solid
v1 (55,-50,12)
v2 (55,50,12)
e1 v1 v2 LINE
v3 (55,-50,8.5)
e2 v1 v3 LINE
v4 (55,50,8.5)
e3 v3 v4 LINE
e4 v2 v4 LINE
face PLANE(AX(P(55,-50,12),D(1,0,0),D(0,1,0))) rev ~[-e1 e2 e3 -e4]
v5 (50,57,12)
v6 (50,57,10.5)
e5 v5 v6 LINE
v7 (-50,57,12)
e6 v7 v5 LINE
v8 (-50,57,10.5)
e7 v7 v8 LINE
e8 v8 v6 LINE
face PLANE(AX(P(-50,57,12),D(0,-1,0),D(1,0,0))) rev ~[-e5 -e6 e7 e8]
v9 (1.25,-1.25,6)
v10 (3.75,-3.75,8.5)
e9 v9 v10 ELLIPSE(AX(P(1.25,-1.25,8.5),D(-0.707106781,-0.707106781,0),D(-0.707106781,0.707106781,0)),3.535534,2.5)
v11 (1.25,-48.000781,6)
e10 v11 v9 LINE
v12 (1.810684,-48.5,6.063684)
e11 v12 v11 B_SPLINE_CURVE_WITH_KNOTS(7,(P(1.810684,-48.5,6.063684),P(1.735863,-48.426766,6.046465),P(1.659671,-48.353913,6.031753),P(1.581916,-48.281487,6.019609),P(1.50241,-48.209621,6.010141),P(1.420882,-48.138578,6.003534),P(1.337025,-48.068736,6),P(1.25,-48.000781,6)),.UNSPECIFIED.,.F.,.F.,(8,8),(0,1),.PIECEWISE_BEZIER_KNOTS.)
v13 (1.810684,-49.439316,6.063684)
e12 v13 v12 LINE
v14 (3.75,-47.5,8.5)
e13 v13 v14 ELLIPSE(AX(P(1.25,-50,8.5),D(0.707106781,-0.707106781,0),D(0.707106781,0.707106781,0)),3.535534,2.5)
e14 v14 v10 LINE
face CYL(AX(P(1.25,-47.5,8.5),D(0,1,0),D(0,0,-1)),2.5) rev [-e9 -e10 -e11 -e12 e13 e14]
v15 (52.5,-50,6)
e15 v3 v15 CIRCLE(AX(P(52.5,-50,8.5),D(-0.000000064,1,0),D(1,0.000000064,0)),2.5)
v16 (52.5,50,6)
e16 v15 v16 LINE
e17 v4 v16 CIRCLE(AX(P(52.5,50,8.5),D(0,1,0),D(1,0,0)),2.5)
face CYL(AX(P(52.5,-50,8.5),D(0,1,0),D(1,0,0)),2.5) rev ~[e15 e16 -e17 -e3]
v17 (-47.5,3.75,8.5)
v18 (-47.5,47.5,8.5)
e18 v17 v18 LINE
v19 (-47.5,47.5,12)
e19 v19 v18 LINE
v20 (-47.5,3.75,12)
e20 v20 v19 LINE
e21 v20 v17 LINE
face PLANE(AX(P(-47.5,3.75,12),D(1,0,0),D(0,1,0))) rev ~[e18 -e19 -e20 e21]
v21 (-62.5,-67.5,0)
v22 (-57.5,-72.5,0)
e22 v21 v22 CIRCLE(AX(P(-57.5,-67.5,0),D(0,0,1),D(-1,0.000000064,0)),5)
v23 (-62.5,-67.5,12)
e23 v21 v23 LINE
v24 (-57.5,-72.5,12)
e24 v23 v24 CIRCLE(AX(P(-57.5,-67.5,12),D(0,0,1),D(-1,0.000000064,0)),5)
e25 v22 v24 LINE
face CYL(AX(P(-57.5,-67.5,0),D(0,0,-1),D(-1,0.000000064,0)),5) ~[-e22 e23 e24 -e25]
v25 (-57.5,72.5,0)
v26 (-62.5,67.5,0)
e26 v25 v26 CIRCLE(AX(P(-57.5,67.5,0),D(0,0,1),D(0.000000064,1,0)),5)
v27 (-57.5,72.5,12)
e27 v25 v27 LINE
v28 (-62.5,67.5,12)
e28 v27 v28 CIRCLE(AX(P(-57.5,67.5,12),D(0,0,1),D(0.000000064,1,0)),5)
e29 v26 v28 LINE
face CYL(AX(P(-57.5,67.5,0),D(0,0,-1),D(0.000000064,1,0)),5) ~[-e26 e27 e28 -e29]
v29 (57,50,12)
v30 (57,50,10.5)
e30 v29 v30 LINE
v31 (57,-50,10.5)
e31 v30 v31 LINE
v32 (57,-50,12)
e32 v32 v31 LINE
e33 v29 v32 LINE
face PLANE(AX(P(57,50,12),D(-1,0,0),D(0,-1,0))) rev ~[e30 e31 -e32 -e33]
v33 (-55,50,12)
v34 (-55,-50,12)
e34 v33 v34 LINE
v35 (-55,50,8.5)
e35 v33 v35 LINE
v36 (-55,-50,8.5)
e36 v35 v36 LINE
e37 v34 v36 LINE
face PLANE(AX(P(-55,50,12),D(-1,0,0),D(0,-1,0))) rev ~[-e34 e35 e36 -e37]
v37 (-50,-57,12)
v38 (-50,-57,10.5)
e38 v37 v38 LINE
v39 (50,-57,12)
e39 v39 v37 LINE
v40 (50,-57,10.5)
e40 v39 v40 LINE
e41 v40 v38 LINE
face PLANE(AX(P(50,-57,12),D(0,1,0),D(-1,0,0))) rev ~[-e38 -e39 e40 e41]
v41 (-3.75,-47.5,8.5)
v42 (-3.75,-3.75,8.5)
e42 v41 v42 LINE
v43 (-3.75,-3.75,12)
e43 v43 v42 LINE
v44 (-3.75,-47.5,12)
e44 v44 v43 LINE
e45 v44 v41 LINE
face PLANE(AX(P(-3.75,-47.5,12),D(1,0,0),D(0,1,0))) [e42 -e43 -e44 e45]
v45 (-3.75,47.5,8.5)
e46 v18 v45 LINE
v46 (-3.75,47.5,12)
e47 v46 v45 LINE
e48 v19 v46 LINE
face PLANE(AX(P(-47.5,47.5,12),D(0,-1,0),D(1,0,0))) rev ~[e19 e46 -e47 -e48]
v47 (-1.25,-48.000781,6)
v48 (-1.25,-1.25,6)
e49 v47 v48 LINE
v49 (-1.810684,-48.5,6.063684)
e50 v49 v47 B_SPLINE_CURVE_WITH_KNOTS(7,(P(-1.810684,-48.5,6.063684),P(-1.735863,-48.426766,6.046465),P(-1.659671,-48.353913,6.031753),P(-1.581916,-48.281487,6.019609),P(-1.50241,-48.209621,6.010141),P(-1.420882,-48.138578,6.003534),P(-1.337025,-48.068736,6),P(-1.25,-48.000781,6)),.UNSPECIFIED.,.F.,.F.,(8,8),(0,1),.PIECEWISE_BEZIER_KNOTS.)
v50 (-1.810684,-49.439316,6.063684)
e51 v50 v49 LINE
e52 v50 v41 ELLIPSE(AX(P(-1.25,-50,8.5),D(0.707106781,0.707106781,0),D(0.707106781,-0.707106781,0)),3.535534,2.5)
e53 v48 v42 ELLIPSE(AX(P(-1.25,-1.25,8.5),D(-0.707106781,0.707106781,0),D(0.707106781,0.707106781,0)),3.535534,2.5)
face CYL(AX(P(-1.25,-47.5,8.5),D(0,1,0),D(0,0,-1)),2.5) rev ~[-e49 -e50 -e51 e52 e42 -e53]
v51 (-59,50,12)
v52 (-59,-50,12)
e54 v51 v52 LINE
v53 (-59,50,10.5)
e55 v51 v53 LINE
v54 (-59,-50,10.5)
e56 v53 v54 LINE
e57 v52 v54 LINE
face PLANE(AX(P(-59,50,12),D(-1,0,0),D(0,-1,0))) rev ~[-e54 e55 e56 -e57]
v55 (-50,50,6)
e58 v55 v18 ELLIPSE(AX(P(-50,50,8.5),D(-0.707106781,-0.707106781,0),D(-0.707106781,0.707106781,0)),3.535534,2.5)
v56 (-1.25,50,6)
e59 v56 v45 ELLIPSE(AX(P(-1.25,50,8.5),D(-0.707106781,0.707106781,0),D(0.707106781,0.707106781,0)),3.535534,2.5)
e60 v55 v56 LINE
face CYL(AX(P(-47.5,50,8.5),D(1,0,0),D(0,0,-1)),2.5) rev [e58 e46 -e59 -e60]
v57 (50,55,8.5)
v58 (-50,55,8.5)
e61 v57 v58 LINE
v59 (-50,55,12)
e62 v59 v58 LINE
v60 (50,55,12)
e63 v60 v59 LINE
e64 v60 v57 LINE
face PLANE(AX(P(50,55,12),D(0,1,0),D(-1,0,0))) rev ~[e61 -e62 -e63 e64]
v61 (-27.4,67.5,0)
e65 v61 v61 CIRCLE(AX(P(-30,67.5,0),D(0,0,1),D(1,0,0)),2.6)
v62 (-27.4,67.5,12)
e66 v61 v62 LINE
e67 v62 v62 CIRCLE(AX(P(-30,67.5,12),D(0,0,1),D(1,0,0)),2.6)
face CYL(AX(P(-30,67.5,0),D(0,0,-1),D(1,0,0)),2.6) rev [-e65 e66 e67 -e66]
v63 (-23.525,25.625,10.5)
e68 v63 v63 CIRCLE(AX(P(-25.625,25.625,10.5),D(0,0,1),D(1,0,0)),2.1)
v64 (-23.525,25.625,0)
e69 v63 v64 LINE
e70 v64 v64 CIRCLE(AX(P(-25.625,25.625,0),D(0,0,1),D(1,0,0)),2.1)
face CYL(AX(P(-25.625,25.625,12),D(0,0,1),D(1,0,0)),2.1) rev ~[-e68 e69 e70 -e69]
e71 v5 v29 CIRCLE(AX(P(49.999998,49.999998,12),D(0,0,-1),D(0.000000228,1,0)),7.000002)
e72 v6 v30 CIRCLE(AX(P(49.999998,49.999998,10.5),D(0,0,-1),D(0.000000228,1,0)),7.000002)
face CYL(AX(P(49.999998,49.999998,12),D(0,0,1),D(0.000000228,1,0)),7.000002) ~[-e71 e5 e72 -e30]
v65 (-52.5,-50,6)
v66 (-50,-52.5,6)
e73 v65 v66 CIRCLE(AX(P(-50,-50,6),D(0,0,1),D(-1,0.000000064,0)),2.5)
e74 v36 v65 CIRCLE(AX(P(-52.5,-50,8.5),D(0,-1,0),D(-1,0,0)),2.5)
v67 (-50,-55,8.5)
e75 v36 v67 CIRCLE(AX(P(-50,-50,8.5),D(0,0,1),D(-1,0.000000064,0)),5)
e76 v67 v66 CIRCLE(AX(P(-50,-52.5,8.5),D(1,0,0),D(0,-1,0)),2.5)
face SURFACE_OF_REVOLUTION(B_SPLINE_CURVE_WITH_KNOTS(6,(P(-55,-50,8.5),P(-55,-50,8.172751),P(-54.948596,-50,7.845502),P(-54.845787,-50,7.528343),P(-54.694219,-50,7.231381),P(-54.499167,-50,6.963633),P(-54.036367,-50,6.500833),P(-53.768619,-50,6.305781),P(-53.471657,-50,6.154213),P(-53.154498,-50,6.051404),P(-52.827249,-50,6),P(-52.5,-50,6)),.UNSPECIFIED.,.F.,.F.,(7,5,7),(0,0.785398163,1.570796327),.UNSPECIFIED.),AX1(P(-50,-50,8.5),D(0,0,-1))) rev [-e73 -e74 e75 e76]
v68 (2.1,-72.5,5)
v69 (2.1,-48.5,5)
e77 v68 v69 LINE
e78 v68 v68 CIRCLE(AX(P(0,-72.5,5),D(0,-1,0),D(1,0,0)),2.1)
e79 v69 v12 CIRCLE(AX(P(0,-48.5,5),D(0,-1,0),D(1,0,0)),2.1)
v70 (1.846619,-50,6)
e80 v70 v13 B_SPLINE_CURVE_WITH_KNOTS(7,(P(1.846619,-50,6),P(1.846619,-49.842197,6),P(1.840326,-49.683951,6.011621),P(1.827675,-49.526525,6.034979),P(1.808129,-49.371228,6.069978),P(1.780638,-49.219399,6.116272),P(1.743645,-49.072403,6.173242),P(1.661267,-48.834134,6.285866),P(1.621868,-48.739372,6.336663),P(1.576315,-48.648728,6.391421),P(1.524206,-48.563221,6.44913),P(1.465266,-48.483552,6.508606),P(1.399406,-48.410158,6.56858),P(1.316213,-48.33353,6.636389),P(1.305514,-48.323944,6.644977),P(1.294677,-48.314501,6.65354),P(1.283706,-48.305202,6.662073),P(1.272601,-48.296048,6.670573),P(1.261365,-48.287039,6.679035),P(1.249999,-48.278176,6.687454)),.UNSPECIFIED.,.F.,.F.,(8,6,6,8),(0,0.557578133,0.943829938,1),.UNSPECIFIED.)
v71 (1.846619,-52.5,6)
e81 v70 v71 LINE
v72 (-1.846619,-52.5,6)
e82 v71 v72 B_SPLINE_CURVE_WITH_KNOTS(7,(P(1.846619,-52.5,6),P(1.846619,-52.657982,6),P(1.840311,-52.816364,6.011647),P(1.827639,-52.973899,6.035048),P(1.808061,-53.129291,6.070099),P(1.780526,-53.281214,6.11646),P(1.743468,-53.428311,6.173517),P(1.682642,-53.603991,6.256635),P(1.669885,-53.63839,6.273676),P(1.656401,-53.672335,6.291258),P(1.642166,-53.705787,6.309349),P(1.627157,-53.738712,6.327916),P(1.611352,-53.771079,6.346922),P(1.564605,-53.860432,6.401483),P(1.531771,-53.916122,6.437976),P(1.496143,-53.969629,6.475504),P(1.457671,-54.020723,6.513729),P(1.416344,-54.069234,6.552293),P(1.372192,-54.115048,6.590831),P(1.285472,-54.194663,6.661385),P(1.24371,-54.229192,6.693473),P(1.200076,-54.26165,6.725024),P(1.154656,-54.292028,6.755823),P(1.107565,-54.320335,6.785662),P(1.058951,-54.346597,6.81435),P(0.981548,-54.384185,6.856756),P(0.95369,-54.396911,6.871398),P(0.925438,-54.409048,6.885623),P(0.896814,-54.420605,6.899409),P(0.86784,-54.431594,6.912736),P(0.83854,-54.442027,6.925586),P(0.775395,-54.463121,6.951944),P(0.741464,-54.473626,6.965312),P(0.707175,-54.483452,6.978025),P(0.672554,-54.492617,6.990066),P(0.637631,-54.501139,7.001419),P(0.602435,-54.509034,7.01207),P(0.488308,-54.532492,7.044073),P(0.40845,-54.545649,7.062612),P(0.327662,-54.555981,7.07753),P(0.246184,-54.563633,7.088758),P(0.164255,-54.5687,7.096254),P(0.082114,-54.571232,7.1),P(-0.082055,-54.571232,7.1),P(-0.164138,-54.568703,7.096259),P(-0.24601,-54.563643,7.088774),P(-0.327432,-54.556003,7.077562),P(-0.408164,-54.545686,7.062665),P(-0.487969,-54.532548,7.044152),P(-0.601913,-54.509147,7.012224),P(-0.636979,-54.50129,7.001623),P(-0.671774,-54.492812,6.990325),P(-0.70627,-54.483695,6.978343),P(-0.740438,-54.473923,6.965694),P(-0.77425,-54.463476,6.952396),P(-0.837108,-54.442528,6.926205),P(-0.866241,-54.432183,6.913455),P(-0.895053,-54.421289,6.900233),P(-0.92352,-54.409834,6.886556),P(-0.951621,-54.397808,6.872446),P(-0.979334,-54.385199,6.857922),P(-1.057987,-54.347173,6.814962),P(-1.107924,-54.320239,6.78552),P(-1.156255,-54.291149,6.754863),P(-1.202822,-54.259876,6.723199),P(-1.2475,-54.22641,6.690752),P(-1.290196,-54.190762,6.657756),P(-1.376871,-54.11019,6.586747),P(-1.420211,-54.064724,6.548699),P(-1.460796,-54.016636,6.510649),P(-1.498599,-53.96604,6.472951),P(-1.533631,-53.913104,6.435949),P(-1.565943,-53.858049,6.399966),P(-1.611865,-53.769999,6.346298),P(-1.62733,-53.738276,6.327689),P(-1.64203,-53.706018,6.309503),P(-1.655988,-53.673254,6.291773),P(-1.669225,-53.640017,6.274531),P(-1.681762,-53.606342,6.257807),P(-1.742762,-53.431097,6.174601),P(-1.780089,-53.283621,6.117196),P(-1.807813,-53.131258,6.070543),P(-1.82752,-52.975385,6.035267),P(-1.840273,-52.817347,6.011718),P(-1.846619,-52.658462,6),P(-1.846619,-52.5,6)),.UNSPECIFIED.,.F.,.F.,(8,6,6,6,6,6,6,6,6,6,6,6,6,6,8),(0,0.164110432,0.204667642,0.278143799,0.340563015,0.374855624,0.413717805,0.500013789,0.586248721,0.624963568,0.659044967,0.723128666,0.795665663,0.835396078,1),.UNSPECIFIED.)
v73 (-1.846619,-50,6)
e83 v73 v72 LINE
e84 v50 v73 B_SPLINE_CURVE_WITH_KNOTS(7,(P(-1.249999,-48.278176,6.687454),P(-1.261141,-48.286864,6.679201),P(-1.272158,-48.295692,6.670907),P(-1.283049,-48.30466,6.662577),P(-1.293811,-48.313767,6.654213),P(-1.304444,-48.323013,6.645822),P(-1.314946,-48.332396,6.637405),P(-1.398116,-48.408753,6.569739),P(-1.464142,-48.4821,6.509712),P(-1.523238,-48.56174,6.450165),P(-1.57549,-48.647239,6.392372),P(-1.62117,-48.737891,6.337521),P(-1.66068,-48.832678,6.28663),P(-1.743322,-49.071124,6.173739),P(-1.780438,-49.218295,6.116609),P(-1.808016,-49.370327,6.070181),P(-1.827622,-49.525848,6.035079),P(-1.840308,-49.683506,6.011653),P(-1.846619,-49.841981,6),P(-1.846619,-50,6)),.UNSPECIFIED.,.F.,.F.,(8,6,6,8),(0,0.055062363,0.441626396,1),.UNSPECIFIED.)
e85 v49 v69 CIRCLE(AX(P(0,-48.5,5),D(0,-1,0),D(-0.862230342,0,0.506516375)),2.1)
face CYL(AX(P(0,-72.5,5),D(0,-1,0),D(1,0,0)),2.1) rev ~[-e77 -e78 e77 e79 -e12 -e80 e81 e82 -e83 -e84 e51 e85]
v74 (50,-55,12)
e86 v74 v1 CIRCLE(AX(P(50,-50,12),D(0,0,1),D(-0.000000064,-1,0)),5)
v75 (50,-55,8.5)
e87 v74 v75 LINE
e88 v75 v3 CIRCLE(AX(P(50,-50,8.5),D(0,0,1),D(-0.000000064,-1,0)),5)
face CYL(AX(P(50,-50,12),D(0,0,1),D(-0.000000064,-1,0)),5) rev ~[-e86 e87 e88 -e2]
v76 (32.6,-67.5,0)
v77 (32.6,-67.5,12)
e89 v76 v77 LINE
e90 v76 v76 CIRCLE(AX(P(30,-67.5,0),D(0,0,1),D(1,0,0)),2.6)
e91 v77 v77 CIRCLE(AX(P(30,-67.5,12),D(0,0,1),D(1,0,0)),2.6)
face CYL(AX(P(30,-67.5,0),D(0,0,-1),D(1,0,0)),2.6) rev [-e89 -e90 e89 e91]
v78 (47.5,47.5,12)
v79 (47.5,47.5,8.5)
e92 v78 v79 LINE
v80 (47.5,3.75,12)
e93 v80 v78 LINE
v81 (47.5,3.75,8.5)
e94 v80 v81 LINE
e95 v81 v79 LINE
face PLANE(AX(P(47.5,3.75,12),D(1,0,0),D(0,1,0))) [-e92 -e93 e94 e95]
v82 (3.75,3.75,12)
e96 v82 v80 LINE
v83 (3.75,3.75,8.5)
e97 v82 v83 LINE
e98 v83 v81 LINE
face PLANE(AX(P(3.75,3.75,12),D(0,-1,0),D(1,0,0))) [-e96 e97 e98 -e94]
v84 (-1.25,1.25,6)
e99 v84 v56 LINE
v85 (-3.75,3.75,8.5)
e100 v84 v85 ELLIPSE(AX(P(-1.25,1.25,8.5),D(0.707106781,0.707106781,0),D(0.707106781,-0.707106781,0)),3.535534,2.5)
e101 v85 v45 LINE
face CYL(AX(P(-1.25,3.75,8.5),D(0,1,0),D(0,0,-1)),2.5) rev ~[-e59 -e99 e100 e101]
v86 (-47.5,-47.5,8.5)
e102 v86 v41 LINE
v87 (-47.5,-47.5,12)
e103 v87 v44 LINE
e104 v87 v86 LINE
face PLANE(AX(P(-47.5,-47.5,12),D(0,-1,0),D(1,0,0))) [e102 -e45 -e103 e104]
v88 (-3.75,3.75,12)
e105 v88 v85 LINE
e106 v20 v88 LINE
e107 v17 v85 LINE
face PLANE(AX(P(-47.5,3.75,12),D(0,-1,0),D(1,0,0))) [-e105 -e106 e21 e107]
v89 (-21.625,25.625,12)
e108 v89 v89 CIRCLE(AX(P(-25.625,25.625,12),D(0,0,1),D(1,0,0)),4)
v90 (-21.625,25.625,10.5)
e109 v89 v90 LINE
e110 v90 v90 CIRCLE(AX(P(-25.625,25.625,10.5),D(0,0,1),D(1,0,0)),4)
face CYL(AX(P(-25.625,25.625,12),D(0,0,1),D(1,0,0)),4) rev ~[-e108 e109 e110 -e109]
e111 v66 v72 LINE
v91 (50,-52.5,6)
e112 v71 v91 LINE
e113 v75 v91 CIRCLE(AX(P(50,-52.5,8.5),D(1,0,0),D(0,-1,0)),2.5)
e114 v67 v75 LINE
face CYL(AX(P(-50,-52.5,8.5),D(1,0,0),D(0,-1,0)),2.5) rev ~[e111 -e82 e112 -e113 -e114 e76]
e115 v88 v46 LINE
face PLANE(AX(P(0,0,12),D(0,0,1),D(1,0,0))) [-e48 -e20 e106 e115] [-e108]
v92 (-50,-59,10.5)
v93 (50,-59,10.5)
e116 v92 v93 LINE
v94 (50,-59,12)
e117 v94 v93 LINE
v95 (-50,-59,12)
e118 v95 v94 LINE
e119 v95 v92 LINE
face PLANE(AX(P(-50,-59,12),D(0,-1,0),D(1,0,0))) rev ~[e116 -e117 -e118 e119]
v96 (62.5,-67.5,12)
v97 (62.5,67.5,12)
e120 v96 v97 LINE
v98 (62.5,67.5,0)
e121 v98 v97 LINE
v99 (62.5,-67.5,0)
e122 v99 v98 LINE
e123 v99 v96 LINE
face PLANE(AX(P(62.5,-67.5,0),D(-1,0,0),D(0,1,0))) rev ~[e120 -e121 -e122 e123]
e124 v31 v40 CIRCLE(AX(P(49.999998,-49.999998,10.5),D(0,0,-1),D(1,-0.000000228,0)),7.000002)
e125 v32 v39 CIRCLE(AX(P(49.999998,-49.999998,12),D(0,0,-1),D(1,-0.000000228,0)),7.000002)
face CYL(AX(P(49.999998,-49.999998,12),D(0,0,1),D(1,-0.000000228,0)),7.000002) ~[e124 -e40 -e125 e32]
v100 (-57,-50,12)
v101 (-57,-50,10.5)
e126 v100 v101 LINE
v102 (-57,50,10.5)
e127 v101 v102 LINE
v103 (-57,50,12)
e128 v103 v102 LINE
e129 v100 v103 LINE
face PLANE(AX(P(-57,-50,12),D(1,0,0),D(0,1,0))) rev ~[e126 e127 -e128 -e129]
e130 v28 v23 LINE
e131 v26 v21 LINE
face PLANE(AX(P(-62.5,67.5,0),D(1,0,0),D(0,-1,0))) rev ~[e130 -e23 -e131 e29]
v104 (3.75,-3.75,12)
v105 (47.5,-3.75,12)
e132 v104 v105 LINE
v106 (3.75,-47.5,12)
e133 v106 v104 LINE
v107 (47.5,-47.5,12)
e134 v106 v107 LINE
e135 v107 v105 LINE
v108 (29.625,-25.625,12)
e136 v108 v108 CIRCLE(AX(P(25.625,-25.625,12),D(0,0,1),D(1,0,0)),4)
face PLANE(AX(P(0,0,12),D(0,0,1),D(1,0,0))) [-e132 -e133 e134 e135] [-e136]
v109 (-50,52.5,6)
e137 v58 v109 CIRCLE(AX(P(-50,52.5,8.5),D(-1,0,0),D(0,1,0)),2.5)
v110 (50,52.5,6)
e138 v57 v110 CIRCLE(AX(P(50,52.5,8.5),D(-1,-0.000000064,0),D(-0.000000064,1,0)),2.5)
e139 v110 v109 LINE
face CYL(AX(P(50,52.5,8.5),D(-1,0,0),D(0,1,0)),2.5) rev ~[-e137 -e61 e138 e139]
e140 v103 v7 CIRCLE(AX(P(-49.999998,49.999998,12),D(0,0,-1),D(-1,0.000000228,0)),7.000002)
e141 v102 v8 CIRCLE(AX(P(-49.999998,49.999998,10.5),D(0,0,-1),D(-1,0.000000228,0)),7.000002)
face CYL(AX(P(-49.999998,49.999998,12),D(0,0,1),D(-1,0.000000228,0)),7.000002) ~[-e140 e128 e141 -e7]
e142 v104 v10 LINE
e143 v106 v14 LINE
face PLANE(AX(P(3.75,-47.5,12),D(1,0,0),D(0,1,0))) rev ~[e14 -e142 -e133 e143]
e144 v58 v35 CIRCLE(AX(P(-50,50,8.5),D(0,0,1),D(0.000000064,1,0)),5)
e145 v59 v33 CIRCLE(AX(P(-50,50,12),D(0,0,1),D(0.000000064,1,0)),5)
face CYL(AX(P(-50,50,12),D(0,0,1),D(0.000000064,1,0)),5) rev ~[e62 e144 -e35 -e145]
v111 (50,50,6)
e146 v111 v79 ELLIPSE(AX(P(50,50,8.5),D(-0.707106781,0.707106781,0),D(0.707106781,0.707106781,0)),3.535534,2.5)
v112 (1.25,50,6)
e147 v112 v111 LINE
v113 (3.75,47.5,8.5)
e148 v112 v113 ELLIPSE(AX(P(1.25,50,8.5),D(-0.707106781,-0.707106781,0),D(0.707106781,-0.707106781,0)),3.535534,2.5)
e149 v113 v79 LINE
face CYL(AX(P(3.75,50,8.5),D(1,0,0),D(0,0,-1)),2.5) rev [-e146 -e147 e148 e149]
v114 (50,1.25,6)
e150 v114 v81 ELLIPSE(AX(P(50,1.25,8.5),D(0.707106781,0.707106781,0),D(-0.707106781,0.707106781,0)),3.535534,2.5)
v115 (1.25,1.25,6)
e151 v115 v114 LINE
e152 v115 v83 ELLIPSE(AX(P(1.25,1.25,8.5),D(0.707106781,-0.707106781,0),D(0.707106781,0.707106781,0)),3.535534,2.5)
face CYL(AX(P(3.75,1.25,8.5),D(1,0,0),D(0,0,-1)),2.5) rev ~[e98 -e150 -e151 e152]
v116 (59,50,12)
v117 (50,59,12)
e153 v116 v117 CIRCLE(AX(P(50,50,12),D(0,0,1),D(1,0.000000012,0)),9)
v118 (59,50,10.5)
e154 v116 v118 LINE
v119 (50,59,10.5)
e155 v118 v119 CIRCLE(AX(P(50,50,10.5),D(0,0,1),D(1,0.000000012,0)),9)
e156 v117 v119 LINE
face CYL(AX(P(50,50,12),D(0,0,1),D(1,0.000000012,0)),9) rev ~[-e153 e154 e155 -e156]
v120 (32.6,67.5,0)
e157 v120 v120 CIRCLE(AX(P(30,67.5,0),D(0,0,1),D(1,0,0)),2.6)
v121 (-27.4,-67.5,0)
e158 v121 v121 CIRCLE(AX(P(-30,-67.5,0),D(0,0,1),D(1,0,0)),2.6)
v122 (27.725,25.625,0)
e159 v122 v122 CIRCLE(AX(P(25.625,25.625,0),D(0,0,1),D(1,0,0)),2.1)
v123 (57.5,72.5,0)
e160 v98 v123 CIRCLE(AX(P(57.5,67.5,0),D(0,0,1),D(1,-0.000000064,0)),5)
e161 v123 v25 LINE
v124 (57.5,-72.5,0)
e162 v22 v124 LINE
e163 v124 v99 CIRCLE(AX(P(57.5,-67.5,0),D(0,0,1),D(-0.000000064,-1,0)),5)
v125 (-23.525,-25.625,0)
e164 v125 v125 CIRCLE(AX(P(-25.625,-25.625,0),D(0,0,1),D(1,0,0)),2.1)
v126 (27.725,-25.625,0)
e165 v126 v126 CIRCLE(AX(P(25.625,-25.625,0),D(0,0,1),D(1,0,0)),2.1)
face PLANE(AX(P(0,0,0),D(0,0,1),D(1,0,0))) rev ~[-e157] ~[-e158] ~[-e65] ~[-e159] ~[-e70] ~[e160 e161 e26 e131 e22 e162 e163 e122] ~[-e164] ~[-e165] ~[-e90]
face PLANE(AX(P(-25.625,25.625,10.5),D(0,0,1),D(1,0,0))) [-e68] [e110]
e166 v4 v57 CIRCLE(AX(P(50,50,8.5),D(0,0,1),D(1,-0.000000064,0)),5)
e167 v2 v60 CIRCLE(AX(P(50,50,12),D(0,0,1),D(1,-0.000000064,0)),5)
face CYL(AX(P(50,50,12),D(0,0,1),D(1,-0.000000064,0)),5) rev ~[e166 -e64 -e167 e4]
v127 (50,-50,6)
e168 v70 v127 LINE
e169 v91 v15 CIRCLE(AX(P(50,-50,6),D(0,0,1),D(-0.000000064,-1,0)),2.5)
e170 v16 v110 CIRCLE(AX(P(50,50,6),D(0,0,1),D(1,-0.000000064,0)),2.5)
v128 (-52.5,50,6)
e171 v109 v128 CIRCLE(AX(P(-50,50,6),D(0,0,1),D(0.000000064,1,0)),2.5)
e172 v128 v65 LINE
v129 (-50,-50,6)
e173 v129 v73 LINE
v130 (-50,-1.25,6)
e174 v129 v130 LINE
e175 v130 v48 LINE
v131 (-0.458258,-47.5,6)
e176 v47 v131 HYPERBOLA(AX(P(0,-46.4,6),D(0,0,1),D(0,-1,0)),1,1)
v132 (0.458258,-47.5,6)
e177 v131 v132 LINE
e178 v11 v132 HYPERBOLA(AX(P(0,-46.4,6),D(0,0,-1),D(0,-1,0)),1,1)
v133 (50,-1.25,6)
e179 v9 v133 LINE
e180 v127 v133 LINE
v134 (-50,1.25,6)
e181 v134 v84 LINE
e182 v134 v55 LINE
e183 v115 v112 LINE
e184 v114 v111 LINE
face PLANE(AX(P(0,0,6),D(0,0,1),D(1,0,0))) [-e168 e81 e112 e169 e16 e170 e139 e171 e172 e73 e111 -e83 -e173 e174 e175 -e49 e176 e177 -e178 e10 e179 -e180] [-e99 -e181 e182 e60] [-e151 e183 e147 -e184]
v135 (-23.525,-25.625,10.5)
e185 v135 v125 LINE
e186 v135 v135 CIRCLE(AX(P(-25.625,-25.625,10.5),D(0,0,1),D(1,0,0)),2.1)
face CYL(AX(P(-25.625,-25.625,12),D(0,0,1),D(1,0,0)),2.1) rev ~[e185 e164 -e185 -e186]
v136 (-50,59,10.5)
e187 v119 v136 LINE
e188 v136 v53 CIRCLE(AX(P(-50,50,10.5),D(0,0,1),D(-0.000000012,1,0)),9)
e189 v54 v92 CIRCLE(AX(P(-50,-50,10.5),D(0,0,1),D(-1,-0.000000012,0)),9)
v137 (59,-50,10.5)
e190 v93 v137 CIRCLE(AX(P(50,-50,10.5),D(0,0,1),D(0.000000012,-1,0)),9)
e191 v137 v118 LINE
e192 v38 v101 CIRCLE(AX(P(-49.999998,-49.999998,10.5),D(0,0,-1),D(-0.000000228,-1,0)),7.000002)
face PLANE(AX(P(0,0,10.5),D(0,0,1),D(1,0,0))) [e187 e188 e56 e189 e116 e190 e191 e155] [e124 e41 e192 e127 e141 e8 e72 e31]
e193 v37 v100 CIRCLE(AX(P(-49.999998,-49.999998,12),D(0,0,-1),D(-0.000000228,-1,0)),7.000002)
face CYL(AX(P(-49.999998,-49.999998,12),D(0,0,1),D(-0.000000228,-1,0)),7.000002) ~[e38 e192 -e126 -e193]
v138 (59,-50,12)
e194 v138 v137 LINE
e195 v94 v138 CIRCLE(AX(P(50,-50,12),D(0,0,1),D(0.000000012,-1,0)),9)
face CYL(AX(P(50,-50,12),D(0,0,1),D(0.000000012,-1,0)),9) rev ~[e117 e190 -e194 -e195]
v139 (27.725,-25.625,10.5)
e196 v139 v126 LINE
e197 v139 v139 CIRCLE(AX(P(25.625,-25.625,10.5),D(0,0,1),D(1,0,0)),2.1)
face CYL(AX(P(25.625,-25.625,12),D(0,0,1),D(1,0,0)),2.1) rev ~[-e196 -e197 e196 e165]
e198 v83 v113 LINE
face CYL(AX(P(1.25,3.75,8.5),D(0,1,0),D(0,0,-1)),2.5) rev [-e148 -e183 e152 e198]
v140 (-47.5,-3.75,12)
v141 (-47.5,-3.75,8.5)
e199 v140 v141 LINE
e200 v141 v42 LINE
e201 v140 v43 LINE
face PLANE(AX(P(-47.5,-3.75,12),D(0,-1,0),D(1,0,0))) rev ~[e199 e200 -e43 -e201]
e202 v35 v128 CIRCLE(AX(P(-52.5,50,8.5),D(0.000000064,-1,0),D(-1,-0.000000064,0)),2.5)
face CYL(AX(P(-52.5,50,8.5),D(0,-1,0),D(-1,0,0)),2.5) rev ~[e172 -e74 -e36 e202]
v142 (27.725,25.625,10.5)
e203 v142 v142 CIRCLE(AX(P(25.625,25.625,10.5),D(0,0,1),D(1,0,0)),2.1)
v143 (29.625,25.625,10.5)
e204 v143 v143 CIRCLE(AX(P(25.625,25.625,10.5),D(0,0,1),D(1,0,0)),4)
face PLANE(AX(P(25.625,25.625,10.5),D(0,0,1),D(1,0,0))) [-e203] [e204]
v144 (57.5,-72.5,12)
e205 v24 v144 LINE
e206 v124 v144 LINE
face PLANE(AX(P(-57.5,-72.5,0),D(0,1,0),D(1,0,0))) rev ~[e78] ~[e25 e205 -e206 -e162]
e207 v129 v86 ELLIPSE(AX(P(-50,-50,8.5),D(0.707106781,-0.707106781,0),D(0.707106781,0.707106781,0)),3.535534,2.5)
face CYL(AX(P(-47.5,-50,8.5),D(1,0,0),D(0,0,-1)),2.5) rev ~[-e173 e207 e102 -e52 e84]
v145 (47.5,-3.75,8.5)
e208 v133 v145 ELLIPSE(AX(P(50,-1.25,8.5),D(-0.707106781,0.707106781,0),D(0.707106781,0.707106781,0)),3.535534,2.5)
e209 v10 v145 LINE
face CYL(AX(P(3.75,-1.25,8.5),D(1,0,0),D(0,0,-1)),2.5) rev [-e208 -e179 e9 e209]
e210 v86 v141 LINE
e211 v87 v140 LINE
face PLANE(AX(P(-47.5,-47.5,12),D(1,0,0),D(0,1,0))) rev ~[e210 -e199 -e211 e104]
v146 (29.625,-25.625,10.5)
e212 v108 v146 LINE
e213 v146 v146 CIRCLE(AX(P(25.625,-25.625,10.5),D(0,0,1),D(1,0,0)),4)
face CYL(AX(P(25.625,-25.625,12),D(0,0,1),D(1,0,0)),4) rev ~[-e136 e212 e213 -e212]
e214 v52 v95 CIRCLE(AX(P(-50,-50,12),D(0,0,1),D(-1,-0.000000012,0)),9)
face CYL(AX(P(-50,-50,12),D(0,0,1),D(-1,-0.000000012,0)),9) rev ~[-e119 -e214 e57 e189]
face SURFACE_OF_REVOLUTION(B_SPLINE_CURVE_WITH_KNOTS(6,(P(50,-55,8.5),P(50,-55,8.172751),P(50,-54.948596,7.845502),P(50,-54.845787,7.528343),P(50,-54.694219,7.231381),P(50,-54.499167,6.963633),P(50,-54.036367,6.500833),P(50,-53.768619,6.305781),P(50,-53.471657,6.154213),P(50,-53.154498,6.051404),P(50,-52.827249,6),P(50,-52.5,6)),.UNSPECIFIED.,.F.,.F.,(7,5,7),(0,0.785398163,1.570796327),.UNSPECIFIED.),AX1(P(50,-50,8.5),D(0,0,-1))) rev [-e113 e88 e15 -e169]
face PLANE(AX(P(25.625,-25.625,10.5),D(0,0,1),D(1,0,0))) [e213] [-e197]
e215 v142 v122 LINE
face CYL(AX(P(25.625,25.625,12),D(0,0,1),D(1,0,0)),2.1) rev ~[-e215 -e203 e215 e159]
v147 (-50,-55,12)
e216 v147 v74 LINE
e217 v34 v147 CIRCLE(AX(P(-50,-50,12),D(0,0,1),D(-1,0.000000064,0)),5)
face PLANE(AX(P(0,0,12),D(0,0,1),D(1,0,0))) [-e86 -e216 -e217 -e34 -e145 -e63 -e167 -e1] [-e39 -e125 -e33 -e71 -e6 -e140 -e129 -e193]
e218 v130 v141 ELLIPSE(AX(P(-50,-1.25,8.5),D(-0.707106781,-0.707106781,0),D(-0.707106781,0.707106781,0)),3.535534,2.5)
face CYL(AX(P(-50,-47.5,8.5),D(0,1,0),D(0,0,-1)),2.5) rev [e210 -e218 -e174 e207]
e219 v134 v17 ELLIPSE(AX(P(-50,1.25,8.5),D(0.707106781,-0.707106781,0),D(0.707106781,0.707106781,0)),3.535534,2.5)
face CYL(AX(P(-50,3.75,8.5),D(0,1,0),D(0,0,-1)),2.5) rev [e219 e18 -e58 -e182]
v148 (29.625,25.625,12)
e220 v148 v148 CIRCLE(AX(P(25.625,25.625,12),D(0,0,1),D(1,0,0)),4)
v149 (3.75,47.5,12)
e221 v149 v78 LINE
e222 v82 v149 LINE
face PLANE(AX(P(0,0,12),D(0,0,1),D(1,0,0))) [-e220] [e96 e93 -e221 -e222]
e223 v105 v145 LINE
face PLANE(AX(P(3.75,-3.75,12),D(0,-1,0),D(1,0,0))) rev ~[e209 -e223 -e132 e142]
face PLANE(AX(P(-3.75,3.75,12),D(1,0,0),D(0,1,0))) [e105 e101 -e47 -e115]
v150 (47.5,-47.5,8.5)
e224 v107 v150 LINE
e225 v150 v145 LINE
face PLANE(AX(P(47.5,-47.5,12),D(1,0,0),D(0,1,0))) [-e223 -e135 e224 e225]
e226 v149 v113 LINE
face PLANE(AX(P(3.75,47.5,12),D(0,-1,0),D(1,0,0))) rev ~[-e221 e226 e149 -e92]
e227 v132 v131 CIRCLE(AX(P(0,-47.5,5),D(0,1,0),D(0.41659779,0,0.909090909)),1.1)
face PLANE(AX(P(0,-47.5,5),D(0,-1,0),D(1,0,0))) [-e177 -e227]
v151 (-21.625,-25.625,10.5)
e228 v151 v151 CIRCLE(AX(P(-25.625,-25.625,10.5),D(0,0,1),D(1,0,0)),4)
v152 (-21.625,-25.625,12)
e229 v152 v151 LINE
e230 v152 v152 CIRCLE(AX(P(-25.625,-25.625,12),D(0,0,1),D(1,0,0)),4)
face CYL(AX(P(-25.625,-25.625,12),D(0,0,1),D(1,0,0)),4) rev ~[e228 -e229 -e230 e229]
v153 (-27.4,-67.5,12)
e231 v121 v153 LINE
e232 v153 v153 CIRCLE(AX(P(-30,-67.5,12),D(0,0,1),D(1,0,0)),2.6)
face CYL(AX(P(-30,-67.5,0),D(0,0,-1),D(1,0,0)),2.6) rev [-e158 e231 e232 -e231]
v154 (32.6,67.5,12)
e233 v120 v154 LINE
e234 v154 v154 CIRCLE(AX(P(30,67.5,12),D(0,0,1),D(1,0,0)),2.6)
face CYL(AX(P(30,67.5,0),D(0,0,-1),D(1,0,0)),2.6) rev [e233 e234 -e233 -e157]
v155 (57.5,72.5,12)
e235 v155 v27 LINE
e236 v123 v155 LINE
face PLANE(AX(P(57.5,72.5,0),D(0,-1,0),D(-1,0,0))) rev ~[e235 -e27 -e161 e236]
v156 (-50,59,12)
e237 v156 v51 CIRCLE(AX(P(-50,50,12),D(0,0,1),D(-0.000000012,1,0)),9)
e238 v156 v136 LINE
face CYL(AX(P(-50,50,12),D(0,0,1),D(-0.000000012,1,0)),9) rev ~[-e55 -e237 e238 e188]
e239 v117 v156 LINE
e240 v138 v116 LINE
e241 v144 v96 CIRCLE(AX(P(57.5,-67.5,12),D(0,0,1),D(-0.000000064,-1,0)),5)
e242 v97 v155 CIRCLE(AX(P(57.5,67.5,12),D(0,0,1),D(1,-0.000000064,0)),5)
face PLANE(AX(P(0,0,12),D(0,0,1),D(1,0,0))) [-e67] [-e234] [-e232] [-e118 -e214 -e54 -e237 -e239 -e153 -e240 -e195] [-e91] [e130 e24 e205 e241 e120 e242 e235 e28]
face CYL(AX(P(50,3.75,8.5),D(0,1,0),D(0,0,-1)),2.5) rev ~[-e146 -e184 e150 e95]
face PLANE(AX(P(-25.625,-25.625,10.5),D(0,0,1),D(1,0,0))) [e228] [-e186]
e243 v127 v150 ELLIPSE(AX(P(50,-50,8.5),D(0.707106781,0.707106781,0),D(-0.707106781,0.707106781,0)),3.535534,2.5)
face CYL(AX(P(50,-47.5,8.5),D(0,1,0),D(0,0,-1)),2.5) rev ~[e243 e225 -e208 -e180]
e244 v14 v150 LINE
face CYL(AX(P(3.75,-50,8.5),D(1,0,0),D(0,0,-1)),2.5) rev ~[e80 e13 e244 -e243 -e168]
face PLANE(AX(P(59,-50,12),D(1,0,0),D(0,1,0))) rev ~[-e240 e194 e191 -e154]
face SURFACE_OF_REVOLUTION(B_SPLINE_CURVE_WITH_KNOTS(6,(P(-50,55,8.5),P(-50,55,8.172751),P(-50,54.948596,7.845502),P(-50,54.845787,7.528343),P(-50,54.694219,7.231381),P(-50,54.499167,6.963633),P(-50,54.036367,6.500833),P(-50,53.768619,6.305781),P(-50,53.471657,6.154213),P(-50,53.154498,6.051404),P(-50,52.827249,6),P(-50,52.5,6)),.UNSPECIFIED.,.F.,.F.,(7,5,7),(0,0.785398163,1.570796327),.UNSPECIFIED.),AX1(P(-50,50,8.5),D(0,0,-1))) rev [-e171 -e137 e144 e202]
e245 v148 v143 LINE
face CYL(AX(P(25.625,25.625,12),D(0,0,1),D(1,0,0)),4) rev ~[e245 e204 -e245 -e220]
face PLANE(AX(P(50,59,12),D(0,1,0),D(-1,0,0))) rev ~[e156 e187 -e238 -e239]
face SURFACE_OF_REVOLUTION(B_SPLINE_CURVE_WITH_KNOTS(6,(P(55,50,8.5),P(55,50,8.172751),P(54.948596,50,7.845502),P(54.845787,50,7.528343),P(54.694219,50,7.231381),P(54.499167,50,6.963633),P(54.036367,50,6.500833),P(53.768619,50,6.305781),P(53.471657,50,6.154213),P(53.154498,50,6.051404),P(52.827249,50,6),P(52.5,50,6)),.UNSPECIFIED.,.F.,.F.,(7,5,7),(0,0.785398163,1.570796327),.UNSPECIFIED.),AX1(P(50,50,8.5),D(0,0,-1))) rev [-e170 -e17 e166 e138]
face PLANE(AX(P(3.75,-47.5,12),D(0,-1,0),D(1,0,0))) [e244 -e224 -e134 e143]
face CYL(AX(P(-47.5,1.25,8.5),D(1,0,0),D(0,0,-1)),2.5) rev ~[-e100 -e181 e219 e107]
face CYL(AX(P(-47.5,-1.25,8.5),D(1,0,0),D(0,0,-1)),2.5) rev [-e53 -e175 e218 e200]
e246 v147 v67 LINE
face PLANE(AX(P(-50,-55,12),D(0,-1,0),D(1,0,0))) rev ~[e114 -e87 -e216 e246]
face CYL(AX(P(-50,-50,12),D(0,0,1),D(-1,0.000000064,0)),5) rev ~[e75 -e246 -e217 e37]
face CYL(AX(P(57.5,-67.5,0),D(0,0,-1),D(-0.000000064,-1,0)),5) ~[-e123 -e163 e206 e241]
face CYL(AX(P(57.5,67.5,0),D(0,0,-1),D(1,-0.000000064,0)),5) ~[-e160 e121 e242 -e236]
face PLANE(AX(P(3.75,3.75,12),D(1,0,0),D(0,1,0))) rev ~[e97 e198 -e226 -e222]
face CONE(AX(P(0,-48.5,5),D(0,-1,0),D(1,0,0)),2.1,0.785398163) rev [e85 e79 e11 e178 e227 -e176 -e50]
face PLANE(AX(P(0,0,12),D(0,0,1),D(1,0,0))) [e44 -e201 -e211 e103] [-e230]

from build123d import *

# Parameters (mm, degrees)
F1_R      = 2.6
F2_DEPTH  = 12
F3_W      = 43.75
F3_H      = 43.75
F4_DEPTH  = 6
F5_R      = 2.5
F6_R      = 2.1
F7_DEPTH  = 25
F10_DEPTH = 1.5
F8_R      = 4
F11_DEPTH = 1.5
F12_R     = 2.1
F13_DEPTH = 25
F14_SIZE  = 1


with BuildPart() as f2:
    # F1 (on Top) → F2 (new body)
    with BuildSketch(Plane.XY):
        with BuildLine():
            Line((-57.5, -72.5), (57.5, -72.5))
            ThreePointArc((57.5, -72.5), (61.035534, -71.035534), (62.5, -67.5))
            Line((62.5, -67.5), (62.5, 67.5))
            ThreePointArc((62.5, 67.5), (61.035534, 71.035534), (57.5, 72.5))
            Line((57.5, 72.5), (-57.5, 72.5))
            ThreePointArc((-57.5, 72.5), (-61.035534, 71.035534), (-62.5, 67.5))
            Line((-62.5, 67.5), (-62.5, -67.5))
            ThreePointArc((-62.5, -67.5), (-61.035534, -71.035534), (-57.5, -72.5))
        make_face()
        with Locations((-30, -67.5)):
            Circle(F1_R, mode=Mode.SUBTRACT)
        with Locations((30, -67.5)):
            Circle(F1_R, mode=Mode.SUBTRACT)
        with Locations((-30, 67.5)):
            Circle(F1_R, mode=Mode.SUBTRACT)
        with Locations((30, 67.5)):
            Circle(F1_R, mode=Mode.SUBTRACT)
    extrude(amount=F2_DEPTH)

    # F3 (on face) → F4 (cut)
    with BuildSketch(Plane.XY.offset(12)):
        with BuildLine():
            Line((-50, -55), (50, -55))
            ThreePointArc((50, -55), (53.535534, -53.535534), (55, -50))
            Line((55, -50), (55, 50))
            ThreePointArc((55, 50), (53.535534, 53.535534), (50, 55))
            Line((50, 55), (-50, 55))
            ThreePointArc((-50, 55), (-53.535534, 53.535534), (-55, 50))
            Line((-55, 50), (-55, -50))
            ThreePointArc((-55, -50), (-53.535534, -53.535534), (-50, -55))
        make_face()
        with Locations((-25.625, -25.625)):
            Rectangle(F3_W, F3_H, mode=Mode.SUBTRACT)
        with Locations((25.625, -25.625)):
            Rectangle(F3_W, F3_H, mode=Mode.SUBTRACT)
        with Locations((-25.625, 25.625)):
            Rectangle(F3_W, F3_H, mode=Mode.SUBTRACT)
        with Locations((25.625, 25.625)):
            Rectangle(F3_W, F3_H, mode=Mode.SUBTRACT)
    extrude(amount=-F4_DEPTH, mode=Mode.SUBTRACT)

    # F5
    f5_edges = [f2.edges().sort_by_distance(p)[0] for p in [
        (0, -55, 6),
        (53.535534, -53.535534, 6),
        (55, 0, 6),
        (53.535534, 53.535534, 6),
        (0, 55, 6),
        (-53.535534, 53.535534, 6),
        (-55, 0, 6),
        (-53.535534, -53.535534, 6),
        (-25.625, -47.5, 6),
        (-47.5, -25.625, 6),
        (-25.625, -3.75, 6),
        (-3.75, -25.625, 6),
        (47.5, -25.625, 6),
        (25.625, -47.5, 6),
        (3.75, -25.625, 6),
        (25.625, -3.75, 6),
        (-25.625, 3.75, 6),
        (-47.5, 25.625, 6),
        (-25.625, 47.5, 6),
        (-3.75, 25.625, 6),
        (25.625, 47.5, 6),
        (47.5, 25.625, 6),
        (25.625, 3.75, 6),
        (3.75, 25.625, 6),
    ]]
    fillet(f5_edges, radius=F5_R)

    # F6 (on face) → F7 (cut)
    with BuildSketch(Plane.XY.offset(12)):
        with Locations((-25.625, 25.625)):
            Circle(F6_R)
        with Locations((25.625, 25.625)):
            Circle(F6_R)
        with Locations((25.625, -25.625)):
            Circle(F6_R)
        with Locations((-25.625, -25.625)):
            Circle(F6_R)
    extrude(amount=-F7_DEPTH, mode=Mode.SUBTRACT)

    # F9 (on face) → F10 (cut)
    with BuildSketch(Plane.XY.offset(12)):
        with BuildLine():
            Line((50, 59), (-50, 59))
            ThreePointArc((-50, 59), (-56.363961, 56.363961), (-59, 50))
            Line((-59, 50), (-59, -50))
            ThreePointArc((-59, -50), (-56.363961, -56.363961), (-50, -59))
            Line((-50, -59), (50, -59))
            ThreePointArc((50, -59), (56.363961, -56.363961), (59, -50))
            Line((59, -50), (59, 50))
            ThreePointArc((59, 50), (56.363961, 56.363961), (50, 59))
        make_face()
        with BuildLine():
            ThreePointArc((57, -50), (54.949747, -54.949747), (50, -57))
            Line((50, -57), (-50, -57))
            ThreePointArc((-50, -57), (-54.949747, -54.949747), (-57, -50))
            Line((-57, -50), (-57, 50))
            ThreePointArc((-57, 50), (-54.949747, 54.949747), (-50, 57))
            Line((-50, 57), (50, 57))
            ThreePointArc((50, 57), (54.949747, 54.949747), (57, 50))
            Line((57, 50), (57, -50))
        make_face(mode=Mode.SUBTRACT)
    extrude(amount=-F10_DEPTH, mode=Mode.SUBTRACT)

    # F8 (on face) → F11 (cut)
    with BuildSketch(Plane.XY.offset(12)):
        with Locations((-25.625, 25.625)):
            Circle(F8_R)
        with Locations((-25.625, -25.625)):
            Circle(F8_R)
        with Locations((25.625, 25.625)):
            Circle(F8_R)
        with Locations((25.625, -25.625)):
            Circle(F8_R)
    extrude(amount=-F11_DEPTH, mode=Mode.SUBTRACT)

    # F12 (on face) → F13 (cut)
    with BuildSketch(Plane.XZ.offset(72.5)):
        with Locations((0, 5)):
            Circle(F12_R)
    extrude(amount=-F13_DEPTH, mode=Mode.SUBTRACT)

    # F14
    f14_edges = [f2.edges().sort_by_distance(p)[0] for p in [
        (-0.551164, -47.5, 2.97362),
    ]]
    chamfer(f14_edges, length=F14_SIZE)


solid = f2.part
